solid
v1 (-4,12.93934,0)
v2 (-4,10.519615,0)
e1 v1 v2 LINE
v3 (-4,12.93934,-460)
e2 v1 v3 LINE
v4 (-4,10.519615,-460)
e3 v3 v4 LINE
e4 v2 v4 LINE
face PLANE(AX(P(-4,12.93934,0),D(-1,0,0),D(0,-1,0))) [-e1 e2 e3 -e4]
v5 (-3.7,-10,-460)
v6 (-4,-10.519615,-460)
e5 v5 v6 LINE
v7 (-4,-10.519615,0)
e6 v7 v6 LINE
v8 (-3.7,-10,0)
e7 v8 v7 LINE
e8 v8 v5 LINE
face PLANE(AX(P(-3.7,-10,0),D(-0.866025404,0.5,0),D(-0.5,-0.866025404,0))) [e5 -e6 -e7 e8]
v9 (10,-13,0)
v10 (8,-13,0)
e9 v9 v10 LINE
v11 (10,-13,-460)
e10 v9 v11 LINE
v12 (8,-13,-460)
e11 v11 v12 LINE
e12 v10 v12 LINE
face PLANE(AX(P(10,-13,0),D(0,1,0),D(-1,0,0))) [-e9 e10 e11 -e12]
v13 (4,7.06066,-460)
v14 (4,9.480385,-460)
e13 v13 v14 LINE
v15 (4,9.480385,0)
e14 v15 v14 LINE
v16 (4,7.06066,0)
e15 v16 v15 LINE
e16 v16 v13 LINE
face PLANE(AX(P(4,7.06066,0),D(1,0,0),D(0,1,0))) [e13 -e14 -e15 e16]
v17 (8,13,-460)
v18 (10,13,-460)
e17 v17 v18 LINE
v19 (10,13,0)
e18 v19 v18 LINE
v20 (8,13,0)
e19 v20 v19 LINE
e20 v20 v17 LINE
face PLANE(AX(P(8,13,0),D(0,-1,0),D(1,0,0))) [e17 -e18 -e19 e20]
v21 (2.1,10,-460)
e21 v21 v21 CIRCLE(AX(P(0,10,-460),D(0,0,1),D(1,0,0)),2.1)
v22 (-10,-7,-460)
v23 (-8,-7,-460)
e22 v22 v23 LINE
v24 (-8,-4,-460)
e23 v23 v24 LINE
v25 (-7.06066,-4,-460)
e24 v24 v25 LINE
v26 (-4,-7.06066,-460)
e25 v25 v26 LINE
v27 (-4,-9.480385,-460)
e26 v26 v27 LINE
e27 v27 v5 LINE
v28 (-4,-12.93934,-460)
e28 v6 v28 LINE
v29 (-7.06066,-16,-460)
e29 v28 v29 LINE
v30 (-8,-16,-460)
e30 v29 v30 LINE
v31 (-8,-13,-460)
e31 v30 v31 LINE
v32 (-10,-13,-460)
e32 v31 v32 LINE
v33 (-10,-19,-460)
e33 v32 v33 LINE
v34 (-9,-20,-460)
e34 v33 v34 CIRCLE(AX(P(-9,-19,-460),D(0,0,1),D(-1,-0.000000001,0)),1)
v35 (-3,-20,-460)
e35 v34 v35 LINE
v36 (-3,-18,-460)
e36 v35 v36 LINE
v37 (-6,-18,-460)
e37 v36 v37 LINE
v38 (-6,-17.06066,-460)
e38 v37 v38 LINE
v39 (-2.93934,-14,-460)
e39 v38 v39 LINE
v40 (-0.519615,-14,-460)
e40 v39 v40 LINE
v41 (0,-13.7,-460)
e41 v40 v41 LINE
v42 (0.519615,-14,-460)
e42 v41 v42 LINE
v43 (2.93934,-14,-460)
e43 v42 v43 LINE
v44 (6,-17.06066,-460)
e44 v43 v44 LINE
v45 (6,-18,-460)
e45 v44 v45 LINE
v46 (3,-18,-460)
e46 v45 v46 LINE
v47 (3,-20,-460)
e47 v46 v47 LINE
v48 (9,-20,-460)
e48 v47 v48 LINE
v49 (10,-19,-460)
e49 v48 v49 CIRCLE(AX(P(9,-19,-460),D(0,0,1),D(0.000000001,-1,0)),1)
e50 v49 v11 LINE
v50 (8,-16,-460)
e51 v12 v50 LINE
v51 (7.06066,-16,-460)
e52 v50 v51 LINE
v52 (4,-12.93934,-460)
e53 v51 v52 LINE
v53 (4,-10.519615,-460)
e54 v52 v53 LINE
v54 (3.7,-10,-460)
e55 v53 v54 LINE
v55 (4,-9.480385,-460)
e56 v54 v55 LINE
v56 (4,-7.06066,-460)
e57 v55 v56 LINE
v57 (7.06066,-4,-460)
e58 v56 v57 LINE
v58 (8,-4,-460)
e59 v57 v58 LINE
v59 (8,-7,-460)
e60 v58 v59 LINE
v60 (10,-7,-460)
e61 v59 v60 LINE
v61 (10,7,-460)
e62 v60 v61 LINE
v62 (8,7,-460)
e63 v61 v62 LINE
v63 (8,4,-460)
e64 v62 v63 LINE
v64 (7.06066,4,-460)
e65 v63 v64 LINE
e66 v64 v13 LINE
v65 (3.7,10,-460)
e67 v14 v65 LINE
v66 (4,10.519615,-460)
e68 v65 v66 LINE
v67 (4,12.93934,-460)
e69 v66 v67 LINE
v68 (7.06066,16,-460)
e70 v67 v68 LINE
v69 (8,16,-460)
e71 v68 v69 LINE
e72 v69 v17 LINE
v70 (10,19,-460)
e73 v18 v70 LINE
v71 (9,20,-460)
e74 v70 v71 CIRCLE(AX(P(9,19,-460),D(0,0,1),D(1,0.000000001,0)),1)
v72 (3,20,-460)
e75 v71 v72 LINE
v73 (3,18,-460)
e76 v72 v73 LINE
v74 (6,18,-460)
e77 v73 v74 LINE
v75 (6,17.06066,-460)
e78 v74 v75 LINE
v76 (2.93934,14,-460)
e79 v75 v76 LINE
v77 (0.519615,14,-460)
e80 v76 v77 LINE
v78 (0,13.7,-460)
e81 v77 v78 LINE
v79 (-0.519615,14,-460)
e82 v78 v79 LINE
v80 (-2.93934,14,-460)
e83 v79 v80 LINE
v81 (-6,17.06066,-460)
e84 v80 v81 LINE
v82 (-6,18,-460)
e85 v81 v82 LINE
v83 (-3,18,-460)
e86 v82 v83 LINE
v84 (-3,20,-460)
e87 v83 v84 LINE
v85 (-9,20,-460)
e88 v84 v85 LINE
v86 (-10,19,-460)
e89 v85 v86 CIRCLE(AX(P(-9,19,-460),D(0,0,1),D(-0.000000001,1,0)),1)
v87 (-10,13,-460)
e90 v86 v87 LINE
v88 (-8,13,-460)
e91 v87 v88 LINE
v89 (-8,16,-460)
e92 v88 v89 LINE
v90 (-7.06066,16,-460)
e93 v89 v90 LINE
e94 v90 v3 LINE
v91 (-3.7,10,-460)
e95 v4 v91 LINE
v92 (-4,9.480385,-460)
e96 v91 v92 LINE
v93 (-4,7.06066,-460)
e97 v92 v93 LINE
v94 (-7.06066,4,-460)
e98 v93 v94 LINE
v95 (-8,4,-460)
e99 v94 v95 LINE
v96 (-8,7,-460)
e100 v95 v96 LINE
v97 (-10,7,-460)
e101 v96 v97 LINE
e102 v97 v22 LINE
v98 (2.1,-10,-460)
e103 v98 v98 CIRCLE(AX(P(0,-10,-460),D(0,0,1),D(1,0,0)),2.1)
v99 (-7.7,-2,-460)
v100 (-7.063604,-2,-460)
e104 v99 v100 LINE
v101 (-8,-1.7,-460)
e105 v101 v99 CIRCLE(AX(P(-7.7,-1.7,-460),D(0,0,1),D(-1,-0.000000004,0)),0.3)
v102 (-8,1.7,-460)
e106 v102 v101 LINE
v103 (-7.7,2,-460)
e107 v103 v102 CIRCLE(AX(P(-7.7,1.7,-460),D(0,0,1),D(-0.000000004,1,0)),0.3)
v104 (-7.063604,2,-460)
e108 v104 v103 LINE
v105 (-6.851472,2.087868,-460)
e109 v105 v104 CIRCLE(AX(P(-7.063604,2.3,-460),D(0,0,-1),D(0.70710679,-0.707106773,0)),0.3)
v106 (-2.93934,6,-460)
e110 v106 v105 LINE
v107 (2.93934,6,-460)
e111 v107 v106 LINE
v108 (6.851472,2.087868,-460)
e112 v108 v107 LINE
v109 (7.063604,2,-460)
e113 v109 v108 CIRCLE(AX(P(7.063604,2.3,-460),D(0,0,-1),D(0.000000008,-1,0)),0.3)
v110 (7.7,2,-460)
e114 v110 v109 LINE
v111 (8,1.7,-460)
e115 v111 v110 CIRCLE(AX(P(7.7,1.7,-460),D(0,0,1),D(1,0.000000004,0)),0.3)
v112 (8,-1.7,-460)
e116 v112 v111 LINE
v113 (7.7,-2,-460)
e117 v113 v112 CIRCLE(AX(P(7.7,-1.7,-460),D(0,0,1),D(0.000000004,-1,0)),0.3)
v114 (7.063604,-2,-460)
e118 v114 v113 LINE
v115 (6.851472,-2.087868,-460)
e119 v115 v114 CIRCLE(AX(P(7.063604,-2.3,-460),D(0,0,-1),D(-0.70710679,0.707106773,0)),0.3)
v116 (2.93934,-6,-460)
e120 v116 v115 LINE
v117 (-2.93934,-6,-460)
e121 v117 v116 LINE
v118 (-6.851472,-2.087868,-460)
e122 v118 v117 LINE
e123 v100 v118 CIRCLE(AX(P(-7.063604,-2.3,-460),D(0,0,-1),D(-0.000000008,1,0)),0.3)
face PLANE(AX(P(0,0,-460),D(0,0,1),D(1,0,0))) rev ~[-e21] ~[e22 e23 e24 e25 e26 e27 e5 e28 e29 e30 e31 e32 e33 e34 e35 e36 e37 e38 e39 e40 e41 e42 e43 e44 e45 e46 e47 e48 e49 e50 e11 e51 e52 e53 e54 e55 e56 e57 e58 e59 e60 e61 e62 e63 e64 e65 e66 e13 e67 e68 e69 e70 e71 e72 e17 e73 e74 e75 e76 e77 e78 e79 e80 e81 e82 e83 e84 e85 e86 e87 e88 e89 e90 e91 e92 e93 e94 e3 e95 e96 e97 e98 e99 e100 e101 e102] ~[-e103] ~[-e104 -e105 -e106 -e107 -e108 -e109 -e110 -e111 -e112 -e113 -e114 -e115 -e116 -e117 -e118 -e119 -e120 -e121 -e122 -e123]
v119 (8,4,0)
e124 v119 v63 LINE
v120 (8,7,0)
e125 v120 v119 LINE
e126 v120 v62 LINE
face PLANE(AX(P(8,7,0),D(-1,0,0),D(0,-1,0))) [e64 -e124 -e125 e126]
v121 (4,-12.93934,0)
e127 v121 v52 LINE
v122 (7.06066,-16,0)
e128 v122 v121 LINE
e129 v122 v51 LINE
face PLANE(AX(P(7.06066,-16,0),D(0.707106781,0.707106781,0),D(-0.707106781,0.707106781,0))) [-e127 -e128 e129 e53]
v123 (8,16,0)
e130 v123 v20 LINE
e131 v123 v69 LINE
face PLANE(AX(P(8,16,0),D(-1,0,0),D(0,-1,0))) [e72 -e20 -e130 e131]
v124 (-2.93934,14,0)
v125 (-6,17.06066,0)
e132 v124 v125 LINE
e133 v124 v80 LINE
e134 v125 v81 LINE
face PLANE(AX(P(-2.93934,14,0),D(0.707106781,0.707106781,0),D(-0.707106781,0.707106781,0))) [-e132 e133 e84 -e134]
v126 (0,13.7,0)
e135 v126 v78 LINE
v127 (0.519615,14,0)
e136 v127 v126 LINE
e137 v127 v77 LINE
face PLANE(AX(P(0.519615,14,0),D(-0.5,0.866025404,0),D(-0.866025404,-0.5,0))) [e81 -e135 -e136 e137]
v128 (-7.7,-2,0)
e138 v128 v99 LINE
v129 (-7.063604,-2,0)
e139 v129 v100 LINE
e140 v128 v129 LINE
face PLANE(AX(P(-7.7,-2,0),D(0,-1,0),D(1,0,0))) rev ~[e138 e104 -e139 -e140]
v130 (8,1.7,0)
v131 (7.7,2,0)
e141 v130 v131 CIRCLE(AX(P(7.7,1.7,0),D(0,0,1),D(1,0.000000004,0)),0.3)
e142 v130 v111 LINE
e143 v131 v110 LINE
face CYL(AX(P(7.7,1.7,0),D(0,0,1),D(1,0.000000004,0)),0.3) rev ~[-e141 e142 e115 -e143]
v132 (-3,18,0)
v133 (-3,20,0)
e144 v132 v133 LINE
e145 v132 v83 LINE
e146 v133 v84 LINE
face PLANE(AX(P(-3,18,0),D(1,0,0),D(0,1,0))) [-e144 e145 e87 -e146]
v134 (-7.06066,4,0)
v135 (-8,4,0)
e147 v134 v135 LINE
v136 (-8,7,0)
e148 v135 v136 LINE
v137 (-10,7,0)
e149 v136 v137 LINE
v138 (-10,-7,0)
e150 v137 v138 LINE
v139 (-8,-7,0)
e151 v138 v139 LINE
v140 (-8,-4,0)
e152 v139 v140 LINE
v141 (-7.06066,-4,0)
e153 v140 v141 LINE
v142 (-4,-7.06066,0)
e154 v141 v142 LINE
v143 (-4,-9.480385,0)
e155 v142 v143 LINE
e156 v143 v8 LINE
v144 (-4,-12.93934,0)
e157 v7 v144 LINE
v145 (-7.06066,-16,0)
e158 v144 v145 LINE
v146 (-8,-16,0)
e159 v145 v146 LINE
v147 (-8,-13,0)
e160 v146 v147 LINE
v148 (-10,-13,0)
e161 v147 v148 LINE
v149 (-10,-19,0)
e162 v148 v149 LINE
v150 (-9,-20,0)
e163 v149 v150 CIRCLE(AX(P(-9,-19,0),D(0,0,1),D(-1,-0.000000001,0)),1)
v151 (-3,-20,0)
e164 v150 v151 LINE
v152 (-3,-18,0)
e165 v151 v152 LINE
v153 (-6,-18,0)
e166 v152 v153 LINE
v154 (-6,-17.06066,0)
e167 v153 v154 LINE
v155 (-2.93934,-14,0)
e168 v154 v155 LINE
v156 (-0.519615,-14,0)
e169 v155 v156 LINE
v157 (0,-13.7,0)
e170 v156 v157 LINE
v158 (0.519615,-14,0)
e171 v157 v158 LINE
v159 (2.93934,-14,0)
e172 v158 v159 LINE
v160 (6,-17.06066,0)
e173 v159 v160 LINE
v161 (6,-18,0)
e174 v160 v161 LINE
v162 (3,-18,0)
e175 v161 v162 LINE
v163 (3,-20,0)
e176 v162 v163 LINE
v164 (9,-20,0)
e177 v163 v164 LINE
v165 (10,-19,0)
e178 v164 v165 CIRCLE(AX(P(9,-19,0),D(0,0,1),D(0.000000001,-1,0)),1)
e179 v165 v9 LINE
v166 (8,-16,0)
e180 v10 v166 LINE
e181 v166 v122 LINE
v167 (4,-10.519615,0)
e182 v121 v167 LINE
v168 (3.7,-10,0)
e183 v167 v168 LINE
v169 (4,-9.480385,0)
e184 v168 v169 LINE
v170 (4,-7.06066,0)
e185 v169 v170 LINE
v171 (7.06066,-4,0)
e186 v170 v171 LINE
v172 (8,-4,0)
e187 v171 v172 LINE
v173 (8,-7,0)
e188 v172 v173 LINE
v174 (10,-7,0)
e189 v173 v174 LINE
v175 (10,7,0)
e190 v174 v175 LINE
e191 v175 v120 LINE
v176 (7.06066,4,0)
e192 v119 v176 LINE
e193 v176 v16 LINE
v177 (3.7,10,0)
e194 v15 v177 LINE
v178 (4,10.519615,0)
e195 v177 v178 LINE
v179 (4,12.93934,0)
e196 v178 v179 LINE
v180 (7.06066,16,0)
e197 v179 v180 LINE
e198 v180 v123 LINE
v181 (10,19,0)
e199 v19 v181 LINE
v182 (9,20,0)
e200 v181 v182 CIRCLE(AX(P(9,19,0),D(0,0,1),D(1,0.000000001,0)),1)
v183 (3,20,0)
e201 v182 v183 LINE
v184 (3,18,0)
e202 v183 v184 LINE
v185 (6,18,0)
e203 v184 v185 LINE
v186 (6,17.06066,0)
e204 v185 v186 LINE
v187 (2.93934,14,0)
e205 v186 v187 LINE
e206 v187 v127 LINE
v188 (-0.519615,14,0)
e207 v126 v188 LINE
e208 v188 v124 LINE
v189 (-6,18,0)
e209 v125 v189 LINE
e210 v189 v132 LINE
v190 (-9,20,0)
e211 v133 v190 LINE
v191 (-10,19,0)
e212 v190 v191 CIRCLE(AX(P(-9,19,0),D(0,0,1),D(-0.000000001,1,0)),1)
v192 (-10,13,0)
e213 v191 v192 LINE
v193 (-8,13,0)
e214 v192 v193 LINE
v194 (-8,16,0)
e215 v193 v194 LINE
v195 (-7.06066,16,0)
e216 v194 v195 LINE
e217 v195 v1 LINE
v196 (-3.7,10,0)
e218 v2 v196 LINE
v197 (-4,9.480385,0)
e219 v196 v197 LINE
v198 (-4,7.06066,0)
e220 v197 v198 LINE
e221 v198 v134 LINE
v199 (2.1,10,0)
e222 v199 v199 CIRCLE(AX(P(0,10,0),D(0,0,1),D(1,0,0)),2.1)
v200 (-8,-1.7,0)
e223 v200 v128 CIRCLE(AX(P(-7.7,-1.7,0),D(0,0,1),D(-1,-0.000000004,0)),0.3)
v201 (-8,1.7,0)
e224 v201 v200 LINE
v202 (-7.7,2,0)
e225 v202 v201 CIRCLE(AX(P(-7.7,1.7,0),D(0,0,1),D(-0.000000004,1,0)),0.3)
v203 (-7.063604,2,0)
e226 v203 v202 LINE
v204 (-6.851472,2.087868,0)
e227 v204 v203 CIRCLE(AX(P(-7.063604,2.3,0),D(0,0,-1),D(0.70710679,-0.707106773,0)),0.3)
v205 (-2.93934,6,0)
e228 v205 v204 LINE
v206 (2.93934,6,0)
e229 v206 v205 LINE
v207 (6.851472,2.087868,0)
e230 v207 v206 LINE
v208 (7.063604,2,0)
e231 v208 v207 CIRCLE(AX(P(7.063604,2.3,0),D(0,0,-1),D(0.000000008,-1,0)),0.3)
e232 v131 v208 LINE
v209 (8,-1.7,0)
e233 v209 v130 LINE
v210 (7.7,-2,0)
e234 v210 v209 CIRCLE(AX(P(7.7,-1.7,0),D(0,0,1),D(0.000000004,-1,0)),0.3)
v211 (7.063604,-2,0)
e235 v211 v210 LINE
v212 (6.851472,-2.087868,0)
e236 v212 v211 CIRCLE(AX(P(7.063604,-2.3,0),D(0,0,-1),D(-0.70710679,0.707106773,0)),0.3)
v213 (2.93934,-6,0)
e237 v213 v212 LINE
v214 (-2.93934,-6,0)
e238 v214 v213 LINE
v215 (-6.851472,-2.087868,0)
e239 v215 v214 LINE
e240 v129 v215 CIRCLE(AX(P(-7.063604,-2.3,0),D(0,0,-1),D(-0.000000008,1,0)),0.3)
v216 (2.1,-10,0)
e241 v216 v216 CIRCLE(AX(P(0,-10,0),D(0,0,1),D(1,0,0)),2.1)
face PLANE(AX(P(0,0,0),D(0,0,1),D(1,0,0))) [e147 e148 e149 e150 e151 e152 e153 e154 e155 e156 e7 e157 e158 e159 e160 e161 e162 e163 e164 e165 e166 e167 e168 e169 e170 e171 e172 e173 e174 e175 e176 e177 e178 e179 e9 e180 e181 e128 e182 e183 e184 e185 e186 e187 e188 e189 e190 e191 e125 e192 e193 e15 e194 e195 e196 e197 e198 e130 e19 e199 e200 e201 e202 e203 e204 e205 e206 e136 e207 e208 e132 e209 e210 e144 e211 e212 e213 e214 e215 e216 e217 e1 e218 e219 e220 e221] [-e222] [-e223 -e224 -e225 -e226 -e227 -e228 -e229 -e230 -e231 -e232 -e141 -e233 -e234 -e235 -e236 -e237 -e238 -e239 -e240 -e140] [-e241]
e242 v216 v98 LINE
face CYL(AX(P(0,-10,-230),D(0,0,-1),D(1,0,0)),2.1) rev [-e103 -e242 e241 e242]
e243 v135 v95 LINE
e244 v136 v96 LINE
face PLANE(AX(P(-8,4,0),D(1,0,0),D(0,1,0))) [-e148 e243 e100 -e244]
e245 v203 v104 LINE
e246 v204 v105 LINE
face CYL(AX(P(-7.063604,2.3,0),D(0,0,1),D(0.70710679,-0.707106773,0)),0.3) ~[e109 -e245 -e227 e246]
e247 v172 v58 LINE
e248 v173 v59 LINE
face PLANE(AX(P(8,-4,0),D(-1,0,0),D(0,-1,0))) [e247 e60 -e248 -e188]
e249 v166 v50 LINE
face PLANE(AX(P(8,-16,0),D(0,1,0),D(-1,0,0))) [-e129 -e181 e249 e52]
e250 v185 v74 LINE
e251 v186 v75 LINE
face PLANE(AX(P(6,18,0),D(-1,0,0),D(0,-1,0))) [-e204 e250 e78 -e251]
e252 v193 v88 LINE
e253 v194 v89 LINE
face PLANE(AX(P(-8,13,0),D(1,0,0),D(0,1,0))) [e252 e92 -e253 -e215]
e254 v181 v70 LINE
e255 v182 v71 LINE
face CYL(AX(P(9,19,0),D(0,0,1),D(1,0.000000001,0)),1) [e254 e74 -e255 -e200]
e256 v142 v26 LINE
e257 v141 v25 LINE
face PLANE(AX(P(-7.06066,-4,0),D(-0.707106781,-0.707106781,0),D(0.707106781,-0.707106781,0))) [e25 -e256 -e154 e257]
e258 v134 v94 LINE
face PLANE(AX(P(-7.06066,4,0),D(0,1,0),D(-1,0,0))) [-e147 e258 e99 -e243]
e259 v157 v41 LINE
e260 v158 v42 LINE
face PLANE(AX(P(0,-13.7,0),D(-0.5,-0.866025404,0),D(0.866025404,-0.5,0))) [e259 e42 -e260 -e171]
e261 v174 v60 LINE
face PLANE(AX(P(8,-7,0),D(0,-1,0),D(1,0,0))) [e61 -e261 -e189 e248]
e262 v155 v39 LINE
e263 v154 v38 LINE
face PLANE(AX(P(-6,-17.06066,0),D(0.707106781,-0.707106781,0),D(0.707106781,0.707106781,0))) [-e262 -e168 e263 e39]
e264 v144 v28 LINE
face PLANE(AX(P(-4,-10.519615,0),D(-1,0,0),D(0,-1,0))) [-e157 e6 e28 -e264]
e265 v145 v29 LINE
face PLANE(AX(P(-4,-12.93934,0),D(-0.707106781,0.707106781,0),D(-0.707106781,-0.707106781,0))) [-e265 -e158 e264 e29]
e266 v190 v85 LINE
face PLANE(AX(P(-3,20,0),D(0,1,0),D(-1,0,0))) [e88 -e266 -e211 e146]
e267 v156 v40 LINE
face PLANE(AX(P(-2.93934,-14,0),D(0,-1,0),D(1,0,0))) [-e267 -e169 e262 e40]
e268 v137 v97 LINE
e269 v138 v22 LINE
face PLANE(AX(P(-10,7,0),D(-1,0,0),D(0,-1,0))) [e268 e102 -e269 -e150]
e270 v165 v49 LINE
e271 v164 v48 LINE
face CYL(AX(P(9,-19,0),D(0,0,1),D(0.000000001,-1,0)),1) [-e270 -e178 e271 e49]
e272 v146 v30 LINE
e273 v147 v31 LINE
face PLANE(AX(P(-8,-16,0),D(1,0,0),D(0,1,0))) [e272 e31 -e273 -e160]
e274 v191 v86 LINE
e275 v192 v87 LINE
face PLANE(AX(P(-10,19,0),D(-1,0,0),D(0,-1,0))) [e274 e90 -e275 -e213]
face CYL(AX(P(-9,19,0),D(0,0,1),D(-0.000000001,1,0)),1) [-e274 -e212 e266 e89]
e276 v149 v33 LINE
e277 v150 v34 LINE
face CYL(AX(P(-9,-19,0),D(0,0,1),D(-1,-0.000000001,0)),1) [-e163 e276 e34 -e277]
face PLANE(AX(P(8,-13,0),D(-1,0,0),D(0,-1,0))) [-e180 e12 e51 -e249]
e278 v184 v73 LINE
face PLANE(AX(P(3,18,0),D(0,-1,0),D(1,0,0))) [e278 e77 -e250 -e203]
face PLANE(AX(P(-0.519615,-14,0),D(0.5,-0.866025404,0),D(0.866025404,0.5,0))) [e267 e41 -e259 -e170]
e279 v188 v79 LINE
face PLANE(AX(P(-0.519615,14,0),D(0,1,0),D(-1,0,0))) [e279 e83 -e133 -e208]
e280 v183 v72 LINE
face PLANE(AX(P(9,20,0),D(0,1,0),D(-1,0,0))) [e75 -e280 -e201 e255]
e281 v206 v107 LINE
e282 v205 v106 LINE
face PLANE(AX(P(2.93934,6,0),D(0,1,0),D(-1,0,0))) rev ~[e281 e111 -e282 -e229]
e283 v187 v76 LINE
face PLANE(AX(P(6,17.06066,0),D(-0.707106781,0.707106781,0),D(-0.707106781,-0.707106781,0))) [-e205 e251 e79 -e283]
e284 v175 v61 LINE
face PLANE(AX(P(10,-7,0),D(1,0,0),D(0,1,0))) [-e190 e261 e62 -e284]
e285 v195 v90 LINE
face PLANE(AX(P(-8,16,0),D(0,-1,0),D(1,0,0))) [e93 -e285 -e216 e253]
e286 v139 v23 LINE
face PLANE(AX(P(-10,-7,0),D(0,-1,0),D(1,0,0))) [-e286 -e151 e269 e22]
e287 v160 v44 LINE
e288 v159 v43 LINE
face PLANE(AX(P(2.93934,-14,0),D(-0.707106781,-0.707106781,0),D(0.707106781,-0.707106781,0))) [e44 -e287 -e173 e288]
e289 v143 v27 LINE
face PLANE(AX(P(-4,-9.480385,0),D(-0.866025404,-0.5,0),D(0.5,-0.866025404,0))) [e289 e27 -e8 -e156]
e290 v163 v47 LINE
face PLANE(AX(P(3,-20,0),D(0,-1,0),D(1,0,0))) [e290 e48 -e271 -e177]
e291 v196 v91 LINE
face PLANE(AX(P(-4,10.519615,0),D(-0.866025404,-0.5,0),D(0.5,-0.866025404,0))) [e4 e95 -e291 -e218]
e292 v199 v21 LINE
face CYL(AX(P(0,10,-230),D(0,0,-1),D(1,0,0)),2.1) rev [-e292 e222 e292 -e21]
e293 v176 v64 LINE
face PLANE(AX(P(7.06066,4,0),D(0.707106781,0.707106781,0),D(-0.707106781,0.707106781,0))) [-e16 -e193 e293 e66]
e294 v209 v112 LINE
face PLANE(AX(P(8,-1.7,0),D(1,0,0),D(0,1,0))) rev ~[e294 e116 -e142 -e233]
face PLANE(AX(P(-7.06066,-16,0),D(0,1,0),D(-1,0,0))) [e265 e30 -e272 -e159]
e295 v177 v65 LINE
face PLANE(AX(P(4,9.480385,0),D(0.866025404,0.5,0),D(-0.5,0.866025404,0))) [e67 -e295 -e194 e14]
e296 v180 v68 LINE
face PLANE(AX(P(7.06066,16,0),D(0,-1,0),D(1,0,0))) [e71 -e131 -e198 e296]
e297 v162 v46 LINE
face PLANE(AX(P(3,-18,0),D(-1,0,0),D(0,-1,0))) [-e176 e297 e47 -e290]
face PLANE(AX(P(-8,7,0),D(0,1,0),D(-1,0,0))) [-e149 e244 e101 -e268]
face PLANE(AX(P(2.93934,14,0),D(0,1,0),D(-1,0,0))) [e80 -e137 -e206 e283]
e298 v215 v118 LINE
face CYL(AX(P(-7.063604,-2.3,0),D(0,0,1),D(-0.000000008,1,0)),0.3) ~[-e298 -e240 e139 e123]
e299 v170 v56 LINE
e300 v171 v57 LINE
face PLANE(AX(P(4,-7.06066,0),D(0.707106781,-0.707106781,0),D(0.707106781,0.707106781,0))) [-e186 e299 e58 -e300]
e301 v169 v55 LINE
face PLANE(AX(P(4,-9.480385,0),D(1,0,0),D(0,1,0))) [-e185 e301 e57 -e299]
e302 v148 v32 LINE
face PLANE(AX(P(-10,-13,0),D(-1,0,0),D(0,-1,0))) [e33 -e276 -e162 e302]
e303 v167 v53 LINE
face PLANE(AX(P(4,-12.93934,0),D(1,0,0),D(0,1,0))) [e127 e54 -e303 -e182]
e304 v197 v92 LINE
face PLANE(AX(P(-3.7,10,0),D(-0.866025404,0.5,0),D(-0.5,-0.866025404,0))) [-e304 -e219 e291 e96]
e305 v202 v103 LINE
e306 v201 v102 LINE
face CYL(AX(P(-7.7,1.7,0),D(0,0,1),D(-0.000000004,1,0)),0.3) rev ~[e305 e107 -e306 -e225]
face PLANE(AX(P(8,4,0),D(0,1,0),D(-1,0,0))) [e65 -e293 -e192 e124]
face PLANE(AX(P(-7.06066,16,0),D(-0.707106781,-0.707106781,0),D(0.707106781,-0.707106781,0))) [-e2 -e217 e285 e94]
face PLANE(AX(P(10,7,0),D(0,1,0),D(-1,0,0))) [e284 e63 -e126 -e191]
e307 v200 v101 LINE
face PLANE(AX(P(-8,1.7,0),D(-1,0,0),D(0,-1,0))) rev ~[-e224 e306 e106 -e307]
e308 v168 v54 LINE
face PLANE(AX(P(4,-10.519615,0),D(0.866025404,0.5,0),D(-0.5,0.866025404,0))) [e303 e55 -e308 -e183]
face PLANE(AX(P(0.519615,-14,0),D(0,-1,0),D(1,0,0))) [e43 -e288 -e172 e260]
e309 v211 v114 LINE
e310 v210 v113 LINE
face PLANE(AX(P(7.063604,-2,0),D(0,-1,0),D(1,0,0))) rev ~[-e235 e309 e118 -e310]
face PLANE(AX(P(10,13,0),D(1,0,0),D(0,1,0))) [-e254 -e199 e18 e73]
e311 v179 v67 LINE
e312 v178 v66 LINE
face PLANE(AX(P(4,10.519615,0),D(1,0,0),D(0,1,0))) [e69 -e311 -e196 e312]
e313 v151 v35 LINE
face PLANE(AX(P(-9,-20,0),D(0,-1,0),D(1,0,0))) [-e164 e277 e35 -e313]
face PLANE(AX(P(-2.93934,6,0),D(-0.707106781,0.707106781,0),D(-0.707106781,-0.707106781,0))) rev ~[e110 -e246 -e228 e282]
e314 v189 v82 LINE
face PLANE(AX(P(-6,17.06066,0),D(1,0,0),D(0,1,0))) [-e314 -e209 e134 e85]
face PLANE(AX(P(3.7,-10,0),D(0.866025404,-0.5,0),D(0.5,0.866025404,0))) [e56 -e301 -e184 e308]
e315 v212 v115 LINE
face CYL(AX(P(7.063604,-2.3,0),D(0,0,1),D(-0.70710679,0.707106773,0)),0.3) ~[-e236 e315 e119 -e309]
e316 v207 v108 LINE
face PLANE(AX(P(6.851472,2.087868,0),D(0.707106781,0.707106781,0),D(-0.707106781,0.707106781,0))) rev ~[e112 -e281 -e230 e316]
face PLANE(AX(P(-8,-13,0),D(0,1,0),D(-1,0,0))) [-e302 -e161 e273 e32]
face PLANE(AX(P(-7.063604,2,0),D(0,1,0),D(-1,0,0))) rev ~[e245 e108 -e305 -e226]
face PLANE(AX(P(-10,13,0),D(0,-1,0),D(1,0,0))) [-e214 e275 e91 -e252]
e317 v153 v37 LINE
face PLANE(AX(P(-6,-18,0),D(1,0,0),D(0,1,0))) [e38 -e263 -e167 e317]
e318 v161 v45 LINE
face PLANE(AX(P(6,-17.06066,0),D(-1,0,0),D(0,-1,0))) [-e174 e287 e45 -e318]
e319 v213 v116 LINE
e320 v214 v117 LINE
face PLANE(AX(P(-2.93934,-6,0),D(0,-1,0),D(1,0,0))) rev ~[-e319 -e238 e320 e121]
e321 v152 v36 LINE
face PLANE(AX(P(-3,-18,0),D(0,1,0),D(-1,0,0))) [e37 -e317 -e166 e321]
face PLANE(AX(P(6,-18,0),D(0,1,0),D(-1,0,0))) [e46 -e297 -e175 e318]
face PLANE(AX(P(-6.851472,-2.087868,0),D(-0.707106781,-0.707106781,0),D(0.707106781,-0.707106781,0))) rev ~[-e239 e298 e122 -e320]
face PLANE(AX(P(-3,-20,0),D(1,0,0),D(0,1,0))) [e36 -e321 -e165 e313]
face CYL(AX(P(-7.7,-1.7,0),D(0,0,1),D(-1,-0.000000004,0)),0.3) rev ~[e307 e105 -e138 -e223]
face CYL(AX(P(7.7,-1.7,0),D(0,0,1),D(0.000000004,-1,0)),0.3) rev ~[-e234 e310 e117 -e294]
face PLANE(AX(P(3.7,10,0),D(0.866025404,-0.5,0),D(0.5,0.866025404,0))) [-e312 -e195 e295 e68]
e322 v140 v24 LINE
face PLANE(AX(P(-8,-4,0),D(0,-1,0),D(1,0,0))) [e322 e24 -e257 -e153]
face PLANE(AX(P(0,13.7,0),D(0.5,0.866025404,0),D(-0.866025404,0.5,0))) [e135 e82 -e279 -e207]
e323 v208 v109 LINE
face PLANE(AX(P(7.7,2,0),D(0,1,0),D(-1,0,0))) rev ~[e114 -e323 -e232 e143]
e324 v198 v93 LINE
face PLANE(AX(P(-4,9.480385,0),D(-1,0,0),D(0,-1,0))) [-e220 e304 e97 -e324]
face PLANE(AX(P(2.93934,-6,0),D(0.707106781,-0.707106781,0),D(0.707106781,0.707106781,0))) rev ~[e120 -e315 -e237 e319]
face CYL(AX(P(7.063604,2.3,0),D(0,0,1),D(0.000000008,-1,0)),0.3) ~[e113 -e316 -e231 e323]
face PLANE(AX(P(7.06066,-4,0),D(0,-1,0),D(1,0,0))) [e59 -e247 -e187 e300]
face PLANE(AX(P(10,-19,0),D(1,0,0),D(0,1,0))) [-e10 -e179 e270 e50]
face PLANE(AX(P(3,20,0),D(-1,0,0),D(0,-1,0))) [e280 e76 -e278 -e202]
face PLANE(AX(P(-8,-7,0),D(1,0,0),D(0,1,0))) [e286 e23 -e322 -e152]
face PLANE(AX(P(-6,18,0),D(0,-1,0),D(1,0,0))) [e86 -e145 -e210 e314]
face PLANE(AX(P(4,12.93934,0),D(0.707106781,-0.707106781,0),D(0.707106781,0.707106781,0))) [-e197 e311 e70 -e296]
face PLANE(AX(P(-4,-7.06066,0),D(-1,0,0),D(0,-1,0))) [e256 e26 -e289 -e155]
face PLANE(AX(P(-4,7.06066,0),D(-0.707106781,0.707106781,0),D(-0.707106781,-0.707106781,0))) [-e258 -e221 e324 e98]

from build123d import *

# Parameters (mm, degrees)
BOSS_EXTRUDE1_DEPTH = 460
SKETCH2_W           = 460
SKETCH2_H           = 2.1
SKETCH3_W           = 460
SKETCH3_H           = 2.1


with BuildPart() as part:
    # Sketch1 → Boss-Extrude1 (new body)
    with BuildSketch(Plane.XY):
        with BuildLine():
            Line((-9, -20), (-3, -20))
            Line((-3, -20), (-3, -18))
            Line((-3, -18), (-6, -18))
            Line((-6, -18), (-6, -17.060660172))
            Line((-6, -17.060660172), (-2.939339828, -14))
            Line((-2.939339828, -14), (-0.519615242, -14))
            Line((-0.519615242, -14), (0, -13.7))
            Line((0, -13.7), (0.519615242, -14))
            Line((0.519615242, -14), (2.939339828, -14))
            Line((2.939339828, -14), (6, -17.060660172))
            Line((6, -17.060660172), (6, -18))
            Line((6, -18), (3, -18))
            Line((3, -18), (3, -20))
            Line((3, -20), (9, -20))
            ThreePointArc((9, -20), (9.707106781, -19.707106781), (10, -19))
            Line((10, -19), (10, -13))
            Line((10, -13), (8, -13))
            Line((8, -13), (8, -16))
            Line((8, -16), (7.060660172, -16))
            Line((7.060660172, -16), (4, -12.939339828))
            Line((4, -12.939339828), (4, -10.519615242))
            Line((4, -10.519615242), (3.7, -10))
            Line((3.7, -10), (4, -9.480384758))
            Line((4, -9.480384758), (4, -7.060660172))
            Line((4, -7.060660172), (7.060660172, -4))
            Line((7.060660172, -4), (8, -4))
            Line((8, -4), (8, -7))
            Line((8, -7), (10, -7))
            Line((10, -7), (10, 7))
            Line((10, 7), (8, 7))
            Line((8, 7), (8, 4))
            Line((8, 4), (7.060660172, 4))
            Line((7.060660172, 4), (4, 7.060660172))
            Line((4, 7.060660172), (4, 9.480384758))
            Line((4, 9.480384758), (3.7, 10))
            Line((3.7, 10), (4, 10.519615242))
            Line((4, 10.519615242), (4, 12.939339828))
            Line((4, 12.939339828), (7.060660172, 16))
            Line((7.060660172, 16), (8, 16))
            Line((8, 16), (8, 13))
            Line((8, 13), (10, 13))
            Line((10, 13), (10, 19))
            ThreePointArc((10, 19), (9.707106781, 19.707106781), (9, 20))
            Line((9, 20), (3, 20))
            Line((3, 20), (3, 18))
            Line((3, 18), (6, 18))
            Line((6, 18), (6, 17.060660172))
            Line((6, 17.060660172), (2.939339828, 14))
            Line((2.939339828, 14), (0.519615242, 14))
            Line((0.519615242, 14), (0, 13.7))
            Line((0, 13.7), (-0.519615242, 14))
            Line((-0.519615242, 14), (-2.939339828, 14))
            Line((-2.939339828, 14), (-6, 17.060660172))
            Line((-6, 17.060660172), (-6, 18))
            Line((-6, 18), (-3, 18))
            Line((-3, 18), (-3, 20))
            Line((-3, 20), (-9, 20))
            ThreePointArc((-9, 20), (-9.707106781, 19.707106781), (-10, 19))
            Line((-10, 19), (-10, 13))
            Line((-10, 13), (-8, 13))
            Line((-8, 13), (-8, 16))
            Line((-8, 16), (-7.060660172, 16))
            Line((-7.060660172, 16), (-4, 12.939339828))
            Line((-4, 12.939339828), (-4, 10.519615242))
            Line((-4, 10.519615242), (-3.7, 10))
            Line((-3.7, 10), (-4, 9.480384758))
            Line((-4, 9.480384758), (-4, 7.060660172))
            Line((-4, 7.060660172), (-7.060660172, 4))
            Line((-7.060660172, 4), (-8, 4))
            Line((-8, 4), (-8, 7))
            Line((-8, 7), (-10, 7))
            Line((-10, 7), (-10, -7))
            Line((-10, -7), (-8, -7))
            Line((-8, -7), (-8, -4))
            Line((-8, -4), (-7.060660172, -4))
            Line((-7.060660172, -4), (-4, -7.060660172))
            Line((-4, -7.060660172), (-4, -9.480384758))
            Line((-4, -9.480384758), (-3.7, -10))
            Line((-3.7, -10), (-4, -10.519615242))
            Line((-4, -10.519615242), (-4, -12.939339828))
            Line((-4, -12.939339828), (-7.060660172, -16))
            Line((-7.060660172, -16), (-8, -16))
            Line((-8, -16), (-8, -13))
            Line((-8, -13), (-10, -13))
            Line((-10, -13), (-10, -19))
            ThreePointArc((-10, -19), (-9.707106781, -19.707106781), (-9, -20))
        make_face()
        with BuildLine():
            Line((-7.7, -2), (-7.063603897, -2))
            ThreePointArc((-7.063603897, -2), (-6.948798867, -2.02283614), (-6.851471863, -2.087867966))
            Line((-6.851471863, -2.087867966), (-2.939339828, -6))
            Line((-2.939339828, -6), (2.939339828, -6))
            Line((2.939339828, -6), (6.851471863, -2.087867966))
            ThreePointArc((6.851471863, -2.087867966), (6.948798867, -2.02283614), (7.063603897, -2))
            Line((7.063603897, -2), (7.7, -2))
            ThreePointArc((7.7, -2), (7.912132034, -1.912132034), (8, -1.7))
            Line((8, -1.7), (8, 1.7))
            ThreePointArc((8, 1.7), (7.912132034, 1.912132034), (7.7, 2))
            Line((7.7, 2), (7.063603897, 2))
            ThreePointArc((7.063603897, 2), (6.948798867, 2.02283614), (6.851471863, 2.087867966))
            Line((6.851471863, 2.087867966), (2.939339828, 6))
            Line((2.939339828, 6), (-2.939339828, 6))
            Line((-2.939339828, 6), (-6.851471863, 2.087867966))
            ThreePointArc((-6.851471863, 2.087867966), (-6.948798867, 2.02283614), (-7.063603897, 2))
            Line((-7.063603897, 2), (-7.7, 2))
            ThreePointArc((-7.7, 2), (-7.912132034, 1.912132034), (-8, 1.7))
            Line((-8, 1.7), (-8, -1.7))
            ThreePointArc((-8, -1.7), (-7.912132034, -1.912132034), (-7.7, -2))
        make_face(mode=Mode.SUBTRACT)
    extrude(amount=-BOSS_EXTRUDE1_DEPTH)

    # Sketch2 → Cut-Revolve1 (revolve, cut)
    with BuildSketch(Plane(origin=(0, 0, 0), x_dir=(0, 0, -1), z_dir=(1, 0, 0)), mode=Mode.PRIVATE) as cut_revolve1_sk:
        with Locations((230, 11.05)):
            Rectangle(SKETCH2_W, SKETCH2_H)
    revolve(cut_revolve1_sk.sketch.rotate(Axis((0, 10, -460), (0, 0, 1)), 270), axis=Axis((0, 10, -460), (0, 0, 1)), mode=Mode.SUBTRACT)

    # Sketch3 → Cut-Revolve2 (revolve, cut)
    with BuildSketch(Plane(origin=(0, 0, 0), x_dir=(0, 0, -1), z_dir=(1, 0, 0)), mode=Mode.PRIVATE) as cut_revolve2_sk:
        with Locations((230, -8.95)):
            Rectangle(SKETCH3_W, SKETCH3_H)
    revolve(cut_revolve2_sk.sketch.rotate(Axis((0, -10, -460), (0, 0, 1)), 270), axis=Axis((0, -10, -460), (0, 0, 1)), mode=Mode.SUBTRACT)


solid = part.part
